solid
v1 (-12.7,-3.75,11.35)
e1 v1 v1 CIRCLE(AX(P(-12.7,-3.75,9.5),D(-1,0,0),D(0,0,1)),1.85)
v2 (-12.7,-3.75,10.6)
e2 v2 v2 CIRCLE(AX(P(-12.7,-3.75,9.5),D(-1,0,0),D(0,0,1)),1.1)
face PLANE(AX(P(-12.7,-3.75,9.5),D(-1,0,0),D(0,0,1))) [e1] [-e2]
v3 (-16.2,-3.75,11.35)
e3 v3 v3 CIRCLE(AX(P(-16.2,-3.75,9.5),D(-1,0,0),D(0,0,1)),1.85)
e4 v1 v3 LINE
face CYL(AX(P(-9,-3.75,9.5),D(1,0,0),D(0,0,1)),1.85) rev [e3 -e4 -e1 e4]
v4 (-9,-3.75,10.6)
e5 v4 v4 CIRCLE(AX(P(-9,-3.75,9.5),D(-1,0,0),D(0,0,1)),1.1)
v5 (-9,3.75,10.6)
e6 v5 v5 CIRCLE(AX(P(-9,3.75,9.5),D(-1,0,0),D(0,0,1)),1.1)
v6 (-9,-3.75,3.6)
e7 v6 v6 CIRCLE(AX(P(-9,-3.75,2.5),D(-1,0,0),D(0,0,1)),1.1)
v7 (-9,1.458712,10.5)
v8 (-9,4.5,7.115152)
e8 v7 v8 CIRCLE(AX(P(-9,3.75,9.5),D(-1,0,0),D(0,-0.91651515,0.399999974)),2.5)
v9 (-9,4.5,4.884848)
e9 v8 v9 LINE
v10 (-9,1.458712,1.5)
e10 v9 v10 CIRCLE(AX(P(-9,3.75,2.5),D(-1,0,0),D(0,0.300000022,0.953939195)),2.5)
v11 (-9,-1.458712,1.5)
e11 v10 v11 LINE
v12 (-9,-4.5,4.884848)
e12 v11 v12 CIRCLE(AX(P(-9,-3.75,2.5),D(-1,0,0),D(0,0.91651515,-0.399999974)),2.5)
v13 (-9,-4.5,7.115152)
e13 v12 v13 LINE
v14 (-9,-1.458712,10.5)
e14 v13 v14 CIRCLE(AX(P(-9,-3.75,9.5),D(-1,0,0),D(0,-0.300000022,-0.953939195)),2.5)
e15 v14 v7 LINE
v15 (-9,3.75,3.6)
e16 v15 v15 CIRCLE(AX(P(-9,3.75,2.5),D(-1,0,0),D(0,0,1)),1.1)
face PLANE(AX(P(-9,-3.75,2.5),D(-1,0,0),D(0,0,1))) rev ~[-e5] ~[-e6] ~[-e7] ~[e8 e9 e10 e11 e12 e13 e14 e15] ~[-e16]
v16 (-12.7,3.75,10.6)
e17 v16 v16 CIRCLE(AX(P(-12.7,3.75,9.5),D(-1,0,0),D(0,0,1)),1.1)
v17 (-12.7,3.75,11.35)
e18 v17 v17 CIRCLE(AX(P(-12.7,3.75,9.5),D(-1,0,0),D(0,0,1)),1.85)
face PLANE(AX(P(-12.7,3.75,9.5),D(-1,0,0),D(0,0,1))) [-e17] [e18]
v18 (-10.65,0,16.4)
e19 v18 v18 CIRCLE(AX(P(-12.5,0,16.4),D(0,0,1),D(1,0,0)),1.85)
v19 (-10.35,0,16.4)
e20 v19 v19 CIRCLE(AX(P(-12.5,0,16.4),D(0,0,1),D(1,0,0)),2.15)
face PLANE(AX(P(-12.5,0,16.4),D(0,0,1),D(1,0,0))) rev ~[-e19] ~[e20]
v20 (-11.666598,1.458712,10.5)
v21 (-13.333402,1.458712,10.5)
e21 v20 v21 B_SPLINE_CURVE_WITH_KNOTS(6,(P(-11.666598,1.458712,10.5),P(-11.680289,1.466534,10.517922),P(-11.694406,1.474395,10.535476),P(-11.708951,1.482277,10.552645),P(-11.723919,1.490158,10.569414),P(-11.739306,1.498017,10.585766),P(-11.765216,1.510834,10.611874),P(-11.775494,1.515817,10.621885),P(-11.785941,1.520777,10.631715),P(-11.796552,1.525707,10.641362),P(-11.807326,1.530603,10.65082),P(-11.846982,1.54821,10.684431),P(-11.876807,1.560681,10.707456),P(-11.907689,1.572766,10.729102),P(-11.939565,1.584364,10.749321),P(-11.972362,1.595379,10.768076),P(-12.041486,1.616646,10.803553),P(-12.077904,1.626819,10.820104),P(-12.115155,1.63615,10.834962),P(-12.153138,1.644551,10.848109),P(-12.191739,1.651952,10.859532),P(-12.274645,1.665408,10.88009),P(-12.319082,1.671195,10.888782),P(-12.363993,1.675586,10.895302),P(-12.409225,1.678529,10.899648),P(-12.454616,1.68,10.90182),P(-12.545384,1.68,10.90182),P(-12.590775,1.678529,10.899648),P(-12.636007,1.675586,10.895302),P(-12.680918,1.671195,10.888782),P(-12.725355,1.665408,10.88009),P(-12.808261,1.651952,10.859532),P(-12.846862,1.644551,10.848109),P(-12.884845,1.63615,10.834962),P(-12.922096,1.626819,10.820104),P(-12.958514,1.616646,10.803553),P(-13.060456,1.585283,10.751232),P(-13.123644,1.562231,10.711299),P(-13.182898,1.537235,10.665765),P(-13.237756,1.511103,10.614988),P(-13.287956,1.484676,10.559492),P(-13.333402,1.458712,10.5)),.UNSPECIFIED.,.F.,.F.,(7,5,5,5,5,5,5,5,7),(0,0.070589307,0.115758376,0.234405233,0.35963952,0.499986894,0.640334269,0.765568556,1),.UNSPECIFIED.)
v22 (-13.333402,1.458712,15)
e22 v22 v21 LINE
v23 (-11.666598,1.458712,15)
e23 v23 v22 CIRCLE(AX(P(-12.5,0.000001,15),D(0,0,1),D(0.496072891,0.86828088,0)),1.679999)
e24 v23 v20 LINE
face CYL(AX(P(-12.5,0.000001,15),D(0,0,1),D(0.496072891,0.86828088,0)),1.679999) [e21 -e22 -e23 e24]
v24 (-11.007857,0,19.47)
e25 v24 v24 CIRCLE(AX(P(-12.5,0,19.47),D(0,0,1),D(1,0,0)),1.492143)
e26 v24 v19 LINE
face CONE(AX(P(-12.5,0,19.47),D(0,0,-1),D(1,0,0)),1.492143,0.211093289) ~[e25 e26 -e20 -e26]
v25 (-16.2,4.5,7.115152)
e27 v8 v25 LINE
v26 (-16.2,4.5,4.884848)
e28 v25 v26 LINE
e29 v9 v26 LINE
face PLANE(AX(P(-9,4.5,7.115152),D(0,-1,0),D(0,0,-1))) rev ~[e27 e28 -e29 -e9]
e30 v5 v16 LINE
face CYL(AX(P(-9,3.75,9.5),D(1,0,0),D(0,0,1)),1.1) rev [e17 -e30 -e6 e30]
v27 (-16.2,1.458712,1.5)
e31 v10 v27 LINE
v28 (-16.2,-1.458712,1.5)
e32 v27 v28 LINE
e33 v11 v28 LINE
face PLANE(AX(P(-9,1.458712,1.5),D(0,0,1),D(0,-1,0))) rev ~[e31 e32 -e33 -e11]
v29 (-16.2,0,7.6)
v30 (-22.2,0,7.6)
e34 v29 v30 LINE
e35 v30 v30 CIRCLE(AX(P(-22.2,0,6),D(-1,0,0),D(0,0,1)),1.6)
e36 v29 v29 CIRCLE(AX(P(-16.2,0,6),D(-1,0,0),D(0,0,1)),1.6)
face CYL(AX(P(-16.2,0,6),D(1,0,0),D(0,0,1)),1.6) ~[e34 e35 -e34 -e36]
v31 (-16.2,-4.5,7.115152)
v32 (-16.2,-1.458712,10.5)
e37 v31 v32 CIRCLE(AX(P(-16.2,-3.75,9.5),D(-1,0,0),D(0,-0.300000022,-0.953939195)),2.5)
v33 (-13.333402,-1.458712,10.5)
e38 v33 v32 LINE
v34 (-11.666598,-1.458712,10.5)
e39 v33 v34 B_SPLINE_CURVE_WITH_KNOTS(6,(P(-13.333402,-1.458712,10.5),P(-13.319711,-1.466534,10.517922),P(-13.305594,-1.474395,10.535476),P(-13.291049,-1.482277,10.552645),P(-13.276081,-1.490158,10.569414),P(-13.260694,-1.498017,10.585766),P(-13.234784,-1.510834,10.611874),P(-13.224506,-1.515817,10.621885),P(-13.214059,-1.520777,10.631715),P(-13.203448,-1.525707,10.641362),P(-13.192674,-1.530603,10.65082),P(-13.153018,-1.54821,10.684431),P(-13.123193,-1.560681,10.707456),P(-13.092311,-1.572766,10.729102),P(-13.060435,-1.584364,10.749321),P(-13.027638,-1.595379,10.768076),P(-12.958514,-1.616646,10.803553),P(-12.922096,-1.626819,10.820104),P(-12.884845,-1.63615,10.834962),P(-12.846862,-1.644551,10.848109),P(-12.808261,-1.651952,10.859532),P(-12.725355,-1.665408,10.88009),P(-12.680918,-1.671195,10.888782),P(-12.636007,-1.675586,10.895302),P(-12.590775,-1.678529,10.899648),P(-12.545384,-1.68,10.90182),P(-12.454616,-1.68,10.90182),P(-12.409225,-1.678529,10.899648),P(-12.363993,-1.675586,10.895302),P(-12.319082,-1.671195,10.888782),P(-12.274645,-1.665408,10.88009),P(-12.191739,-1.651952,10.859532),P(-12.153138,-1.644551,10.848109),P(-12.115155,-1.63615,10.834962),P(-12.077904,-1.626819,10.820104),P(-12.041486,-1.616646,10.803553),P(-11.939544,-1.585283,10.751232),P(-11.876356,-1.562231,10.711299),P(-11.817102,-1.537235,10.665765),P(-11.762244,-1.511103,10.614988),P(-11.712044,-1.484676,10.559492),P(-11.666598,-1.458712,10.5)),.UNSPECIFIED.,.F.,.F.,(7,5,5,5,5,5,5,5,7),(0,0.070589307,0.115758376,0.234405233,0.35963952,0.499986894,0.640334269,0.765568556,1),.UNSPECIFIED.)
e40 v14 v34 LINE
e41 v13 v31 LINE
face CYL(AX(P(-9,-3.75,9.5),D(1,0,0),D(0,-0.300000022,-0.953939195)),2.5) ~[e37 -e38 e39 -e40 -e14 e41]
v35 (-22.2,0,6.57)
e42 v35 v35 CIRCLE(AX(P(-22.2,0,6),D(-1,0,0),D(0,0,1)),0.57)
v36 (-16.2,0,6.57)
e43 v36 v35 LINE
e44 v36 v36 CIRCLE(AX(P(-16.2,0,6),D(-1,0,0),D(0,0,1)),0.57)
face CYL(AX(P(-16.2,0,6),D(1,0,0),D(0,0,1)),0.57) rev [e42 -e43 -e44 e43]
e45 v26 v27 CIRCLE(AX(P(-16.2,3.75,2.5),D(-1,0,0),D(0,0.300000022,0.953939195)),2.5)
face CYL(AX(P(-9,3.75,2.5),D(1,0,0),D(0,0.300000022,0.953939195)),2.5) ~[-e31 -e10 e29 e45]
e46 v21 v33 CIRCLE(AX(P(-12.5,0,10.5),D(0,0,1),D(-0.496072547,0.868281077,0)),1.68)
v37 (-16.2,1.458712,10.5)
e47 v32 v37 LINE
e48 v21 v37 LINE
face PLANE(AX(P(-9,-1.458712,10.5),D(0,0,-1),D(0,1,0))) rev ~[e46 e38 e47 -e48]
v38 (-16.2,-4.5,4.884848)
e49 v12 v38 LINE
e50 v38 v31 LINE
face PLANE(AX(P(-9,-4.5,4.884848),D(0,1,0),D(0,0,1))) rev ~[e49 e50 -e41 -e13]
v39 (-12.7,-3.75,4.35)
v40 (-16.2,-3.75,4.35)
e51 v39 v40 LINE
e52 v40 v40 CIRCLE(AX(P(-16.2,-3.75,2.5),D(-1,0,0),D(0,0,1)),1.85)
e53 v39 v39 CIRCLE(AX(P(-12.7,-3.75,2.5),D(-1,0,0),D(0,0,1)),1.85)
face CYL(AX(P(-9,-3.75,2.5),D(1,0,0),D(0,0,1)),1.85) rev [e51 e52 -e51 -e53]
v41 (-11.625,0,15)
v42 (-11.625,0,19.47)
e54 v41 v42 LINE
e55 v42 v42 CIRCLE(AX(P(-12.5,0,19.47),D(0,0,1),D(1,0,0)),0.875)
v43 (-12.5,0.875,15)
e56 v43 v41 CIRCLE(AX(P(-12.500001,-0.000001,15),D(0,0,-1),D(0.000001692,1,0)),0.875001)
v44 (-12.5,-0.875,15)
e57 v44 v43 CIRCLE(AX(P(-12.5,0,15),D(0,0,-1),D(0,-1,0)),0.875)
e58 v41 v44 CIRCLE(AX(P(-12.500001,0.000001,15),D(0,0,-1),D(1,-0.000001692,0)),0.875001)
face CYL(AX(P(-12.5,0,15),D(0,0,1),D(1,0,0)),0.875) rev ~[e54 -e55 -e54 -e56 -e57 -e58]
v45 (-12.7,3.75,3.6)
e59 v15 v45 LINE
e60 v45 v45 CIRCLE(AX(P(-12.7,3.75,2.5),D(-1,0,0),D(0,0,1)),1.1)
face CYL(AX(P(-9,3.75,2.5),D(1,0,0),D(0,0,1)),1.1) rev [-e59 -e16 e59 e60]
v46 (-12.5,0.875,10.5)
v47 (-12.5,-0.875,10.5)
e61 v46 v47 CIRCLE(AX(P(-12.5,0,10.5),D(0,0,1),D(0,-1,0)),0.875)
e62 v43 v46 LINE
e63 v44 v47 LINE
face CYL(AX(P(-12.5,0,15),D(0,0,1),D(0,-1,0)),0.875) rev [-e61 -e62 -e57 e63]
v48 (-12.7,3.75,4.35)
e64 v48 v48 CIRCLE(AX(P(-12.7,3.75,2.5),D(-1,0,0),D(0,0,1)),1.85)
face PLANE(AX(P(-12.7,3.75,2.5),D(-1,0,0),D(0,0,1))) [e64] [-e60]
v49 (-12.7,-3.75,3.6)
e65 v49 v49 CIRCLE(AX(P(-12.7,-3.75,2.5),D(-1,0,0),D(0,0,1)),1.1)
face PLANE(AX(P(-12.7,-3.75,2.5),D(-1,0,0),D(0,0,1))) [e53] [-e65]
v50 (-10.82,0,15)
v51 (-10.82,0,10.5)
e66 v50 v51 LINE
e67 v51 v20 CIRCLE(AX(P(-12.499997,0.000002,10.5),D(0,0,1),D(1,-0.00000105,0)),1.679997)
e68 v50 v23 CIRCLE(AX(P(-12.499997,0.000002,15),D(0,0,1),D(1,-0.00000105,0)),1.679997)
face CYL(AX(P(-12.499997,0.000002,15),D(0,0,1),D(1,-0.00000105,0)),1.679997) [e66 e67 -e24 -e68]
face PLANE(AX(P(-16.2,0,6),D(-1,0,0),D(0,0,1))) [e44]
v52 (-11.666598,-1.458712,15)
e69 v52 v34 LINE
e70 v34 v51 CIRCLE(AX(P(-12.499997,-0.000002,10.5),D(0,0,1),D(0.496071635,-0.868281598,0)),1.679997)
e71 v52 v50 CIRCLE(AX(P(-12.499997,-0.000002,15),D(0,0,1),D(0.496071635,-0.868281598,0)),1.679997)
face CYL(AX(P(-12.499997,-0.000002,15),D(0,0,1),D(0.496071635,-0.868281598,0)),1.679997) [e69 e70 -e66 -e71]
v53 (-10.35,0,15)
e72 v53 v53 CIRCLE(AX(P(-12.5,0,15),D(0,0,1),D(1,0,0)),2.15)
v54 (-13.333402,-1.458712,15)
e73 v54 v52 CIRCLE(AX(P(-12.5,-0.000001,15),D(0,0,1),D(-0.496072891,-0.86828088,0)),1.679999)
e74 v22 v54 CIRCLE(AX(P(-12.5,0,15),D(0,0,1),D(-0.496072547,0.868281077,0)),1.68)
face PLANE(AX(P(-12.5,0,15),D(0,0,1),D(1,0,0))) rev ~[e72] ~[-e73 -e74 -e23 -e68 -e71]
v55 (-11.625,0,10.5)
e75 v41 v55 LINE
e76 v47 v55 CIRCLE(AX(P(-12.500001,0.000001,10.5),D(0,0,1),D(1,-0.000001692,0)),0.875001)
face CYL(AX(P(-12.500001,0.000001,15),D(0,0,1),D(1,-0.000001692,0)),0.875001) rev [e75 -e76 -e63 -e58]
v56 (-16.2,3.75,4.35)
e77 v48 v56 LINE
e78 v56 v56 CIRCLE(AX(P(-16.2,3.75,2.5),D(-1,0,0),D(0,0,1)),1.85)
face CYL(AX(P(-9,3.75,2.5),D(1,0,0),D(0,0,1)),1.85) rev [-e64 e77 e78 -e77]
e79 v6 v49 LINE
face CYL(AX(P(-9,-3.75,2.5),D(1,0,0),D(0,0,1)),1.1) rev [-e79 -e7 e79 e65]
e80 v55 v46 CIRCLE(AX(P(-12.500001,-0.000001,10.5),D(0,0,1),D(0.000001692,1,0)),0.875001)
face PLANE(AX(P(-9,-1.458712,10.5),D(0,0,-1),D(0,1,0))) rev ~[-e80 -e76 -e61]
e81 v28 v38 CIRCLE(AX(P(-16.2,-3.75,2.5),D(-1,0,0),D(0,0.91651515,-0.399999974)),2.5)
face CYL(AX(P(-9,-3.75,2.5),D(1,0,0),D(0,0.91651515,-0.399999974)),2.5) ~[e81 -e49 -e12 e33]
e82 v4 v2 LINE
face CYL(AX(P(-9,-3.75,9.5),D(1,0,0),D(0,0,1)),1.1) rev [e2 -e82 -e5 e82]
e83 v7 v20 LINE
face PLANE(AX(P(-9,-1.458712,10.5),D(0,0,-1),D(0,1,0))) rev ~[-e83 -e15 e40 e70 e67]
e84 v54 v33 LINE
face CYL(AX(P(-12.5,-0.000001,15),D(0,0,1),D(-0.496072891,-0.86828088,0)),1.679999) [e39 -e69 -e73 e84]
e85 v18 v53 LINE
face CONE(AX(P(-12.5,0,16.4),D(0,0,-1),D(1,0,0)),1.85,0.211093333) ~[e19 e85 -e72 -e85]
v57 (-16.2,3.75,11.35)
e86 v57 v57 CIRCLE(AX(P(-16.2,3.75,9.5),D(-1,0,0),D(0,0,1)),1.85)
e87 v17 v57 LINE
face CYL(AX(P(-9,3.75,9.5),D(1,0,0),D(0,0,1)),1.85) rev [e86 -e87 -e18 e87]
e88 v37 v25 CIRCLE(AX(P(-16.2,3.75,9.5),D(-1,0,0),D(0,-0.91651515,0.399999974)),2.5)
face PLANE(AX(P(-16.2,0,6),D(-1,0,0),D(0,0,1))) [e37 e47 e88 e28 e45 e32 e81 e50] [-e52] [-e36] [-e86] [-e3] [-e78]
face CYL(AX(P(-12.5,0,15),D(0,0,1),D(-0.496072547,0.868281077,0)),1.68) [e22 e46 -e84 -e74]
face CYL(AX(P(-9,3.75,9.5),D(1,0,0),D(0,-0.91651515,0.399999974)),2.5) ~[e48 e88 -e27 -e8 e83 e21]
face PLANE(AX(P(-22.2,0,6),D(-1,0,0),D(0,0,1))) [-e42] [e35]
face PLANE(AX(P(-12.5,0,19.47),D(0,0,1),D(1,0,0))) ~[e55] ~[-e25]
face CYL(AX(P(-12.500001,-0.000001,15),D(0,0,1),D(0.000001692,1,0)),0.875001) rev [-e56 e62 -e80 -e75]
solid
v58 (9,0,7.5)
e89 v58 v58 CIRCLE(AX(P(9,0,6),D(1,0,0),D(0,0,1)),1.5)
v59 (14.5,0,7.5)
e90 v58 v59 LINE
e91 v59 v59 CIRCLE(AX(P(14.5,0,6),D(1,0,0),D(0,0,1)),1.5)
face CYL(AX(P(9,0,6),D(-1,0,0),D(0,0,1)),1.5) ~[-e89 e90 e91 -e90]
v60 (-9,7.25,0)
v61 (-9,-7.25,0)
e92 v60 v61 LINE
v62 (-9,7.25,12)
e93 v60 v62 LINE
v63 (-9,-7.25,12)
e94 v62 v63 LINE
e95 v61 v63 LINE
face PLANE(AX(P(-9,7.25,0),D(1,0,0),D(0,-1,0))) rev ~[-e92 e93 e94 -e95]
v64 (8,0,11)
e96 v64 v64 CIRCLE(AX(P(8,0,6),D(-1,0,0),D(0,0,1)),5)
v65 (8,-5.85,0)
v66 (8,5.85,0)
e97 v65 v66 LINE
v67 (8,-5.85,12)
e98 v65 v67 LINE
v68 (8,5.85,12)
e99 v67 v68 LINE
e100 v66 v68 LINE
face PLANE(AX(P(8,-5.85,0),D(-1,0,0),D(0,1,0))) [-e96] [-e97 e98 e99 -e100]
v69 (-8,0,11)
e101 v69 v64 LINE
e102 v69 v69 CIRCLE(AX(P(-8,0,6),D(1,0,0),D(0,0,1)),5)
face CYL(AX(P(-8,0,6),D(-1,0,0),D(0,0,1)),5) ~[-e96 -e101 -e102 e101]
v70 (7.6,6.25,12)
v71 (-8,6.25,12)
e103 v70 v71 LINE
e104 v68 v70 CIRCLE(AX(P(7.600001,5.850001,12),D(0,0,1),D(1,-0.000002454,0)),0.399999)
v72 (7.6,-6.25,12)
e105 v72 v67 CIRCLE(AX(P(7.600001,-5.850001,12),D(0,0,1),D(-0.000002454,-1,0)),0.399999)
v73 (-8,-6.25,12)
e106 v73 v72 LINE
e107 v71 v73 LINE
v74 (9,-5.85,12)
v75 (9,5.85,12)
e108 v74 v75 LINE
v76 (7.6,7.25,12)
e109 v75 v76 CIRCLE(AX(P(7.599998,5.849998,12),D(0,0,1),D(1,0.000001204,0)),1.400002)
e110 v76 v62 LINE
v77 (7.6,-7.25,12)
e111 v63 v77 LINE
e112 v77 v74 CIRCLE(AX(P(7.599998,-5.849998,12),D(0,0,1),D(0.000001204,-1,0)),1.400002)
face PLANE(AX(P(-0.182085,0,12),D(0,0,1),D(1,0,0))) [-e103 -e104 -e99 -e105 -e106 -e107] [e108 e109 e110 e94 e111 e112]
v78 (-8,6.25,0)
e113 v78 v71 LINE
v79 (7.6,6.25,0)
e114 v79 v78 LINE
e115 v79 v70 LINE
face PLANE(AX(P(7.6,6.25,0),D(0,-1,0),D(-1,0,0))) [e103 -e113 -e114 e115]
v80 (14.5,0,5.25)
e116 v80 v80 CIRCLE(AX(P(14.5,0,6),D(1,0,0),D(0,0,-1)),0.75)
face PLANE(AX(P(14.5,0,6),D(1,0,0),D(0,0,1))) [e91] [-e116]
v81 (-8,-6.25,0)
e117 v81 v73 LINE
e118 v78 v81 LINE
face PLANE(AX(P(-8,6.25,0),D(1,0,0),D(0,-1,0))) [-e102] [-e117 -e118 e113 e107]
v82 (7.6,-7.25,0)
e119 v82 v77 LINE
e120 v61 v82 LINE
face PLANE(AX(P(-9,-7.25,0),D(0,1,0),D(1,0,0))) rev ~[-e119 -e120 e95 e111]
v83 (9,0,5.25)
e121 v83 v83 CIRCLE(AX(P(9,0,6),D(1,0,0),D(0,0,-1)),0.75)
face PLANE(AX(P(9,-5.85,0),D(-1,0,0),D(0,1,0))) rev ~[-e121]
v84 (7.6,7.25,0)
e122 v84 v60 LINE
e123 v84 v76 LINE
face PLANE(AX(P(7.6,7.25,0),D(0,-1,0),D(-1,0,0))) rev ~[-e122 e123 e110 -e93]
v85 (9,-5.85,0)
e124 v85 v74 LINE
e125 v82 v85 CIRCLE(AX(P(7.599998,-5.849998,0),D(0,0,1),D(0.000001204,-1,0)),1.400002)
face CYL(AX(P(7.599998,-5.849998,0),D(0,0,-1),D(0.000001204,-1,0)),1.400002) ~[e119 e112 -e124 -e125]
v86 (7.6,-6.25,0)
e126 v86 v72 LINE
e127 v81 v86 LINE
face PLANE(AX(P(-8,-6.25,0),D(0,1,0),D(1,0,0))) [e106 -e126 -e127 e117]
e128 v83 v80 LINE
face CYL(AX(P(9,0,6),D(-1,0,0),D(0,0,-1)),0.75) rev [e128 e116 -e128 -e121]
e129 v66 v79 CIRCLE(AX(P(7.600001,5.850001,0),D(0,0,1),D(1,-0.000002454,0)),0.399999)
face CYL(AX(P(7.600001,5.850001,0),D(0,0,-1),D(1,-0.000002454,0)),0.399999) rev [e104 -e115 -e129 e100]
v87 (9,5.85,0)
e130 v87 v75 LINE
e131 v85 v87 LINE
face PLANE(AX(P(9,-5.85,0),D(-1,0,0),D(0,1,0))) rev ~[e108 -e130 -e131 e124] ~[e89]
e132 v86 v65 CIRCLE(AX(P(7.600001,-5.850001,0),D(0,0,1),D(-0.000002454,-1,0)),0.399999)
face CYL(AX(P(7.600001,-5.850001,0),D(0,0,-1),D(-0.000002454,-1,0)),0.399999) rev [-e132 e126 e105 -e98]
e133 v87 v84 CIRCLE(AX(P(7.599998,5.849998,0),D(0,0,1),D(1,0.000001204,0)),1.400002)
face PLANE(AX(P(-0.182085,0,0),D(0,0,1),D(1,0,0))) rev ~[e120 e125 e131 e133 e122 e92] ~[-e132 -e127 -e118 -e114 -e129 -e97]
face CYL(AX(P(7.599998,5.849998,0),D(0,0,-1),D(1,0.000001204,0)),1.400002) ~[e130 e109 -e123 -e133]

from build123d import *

# Parameters (mm, degrees)
BOSS_EXTRUDE1_DEPTH   = 12
SKETCH2_R             = 1.5
SKETCH2_R_2           = 0.75
BOSS_EXTRUDE2_DEPTH   = 5.5
BOSS_EXTRUDE3_REACH   = 28.511
SKETCH3_R             = 5
SKETCH4_R             = 1.85
BOSS_EXTRUDE4_DEPTH   = 7.2
SKETCH4_6_R           = 1.85
SKETCH4_6_R_2         = 1.1
BOSS_EXTRUDE6_DEPTH   = 3.7
BOSS_EXTRUDE6_2_DEPTH = 3.7
BOSS_EXTRUDE6_3_DEPTH = 3.7
BOSS_EXTRUDE6_4_DEPTH = 3.7
SKETCH5_R             = 1.6
SKETCH5_R_2           = 0.57
BOSS_EXTRUDE7_DEPTH   = 6
BOSS_EXTRUDE8_REACH   = 29.756


with BuildPart() as part:
    # Sketch1 → Boss-Extrude1 (new body)
    with BuildSketch(Plane.XY):
        with BuildLine():
            Line((9, -5.85), (9, 5.85))
            ThreePointArc((9, 5.85), (8.589949, 6.839949), (7.6, 7.25))
            Line((7.6, 7.25), (-9, 7.25))
            Line((-9, 7.25), (-9, -7.25))
            Line((-9, -7.25), (7.6, -7.25))
            ThreePointArc((7.6, -7.25), (8.589949, -6.839949), (9, -5.85))
        make_face()
        with BuildLine():
            Line((-8, -6.25), (7.6, -6.25))
            ThreePointArc((7.6, -6.25), (7.882843, -6.132843), (8, -5.85))
            Line((8, -5.85), (8, 5.85))
            ThreePointArc((8, 5.85), (7.882843, 6.132843), (7.6, 6.25))
            Line((7.6, 6.25), (-8, 6.25))
            Line((-8, 6.25), (-8, -6.25))
        make_face(mode=Mode.SUBTRACT)
    extrude(amount=BOSS_EXTRUDE1_DEPTH)

    # Sketch2 → Boss-Extrude2 (add)
    with BuildSketch(Plane(origin=(9, 0, 0), x_dir=(0, 0, -1), z_dir=(1, 0, 0))):
        with Locations(Location((-6, 0, 0), (0, 0, 180))):
            Circle(SKETCH2_R)
        with Locations((-6, 0)):
            Circle(SKETCH2_R_2, mode=Mode.SUBTRACT)
    extrude(amount=BOSS_EXTRUDE2_DEPTH)

    # Sketch3 → Boss-Extrude3 (add, up to next)
    with BuildSketch(Plane(origin=(-8, 0, 0), x_dir=(0, 0, -1), z_dir=(1, 0, 0)), mode=Mode.PRIVATE) as boss_extrude3_sk1:
        with Locations(Location((-6, 0, 0), (0, 0, 180))):
            Circle(SKETCH3_R)
    boss_extrude3_tool1 = extrude(boss_extrude3_sk1.sketch, amount=BOSS_EXTRUDE3_REACH, mode=Mode.PRIVATE) - part.part
    add(boss_extrude3_tool1.solids().sort_by_distance((-8, 0, 6))[0])


with BuildPart() as body_2:
    # Sketch4 → Boss-Extrude4 (new body)
    with BuildSketch(Plane.ZY.offset(9)):
        with BuildLine():
            ThreePointArc((1.5, -1.458712), (0.829129, -5.609621), (4.884848, -4.5))
            Line((4.884848, -4.5), (7.115152, -4.5))
            ThreePointArc((7.115152, -4.5), (11.170871, -5.609621), (10.5, -1.458712))
            Line((10.5, -1.458712), (10.5, 1.458712))
            ThreePointArc((10.5, 1.458712), (11.170871, 5.609621), (7.115152, 4.5))
            Line((7.115152, 4.5), (4.884848, 4.5))
            ThreePointArc((4.884848, 4.5), (0.829129, 5.609621), (1.5, 1.458712))
            Line((1.5, 1.458712), (1.5, -1.458712))
        make_face()
        with Locations((2.5, -3.75)):
            Circle(SKETCH4_R, mode=Mode.SUBTRACT)
        with Locations((9.5, 3.75)):
            Circle(SKETCH4_R, mode=Mode.SUBTRACT)
        with Locations((9.5, -3.75)):
            Circle(SKETCH4_R, mode=Mode.SUBTRACT)
        with Locations((2.5, 3.75)):
            Circle(SKETCH4_R, mode=Mode.SUBTRACT)
    extrude(amount=BOSS_EXTRUDE4_DEPTH)


with BuildPart() as body_3:
    # Sketch4<6> → Boss-Extrude6 (new body)
    with BuildSketch(Plane.ZY.offset(9)):
        with Locations((2.5, 3.75)):
            Circle(SKETCH4_6_R)
        with Locations((2.5, 3.75)):
            Circle(SKETCH4_6_R_2, mode=Mode.SUBTRACT)
    extrude(amount=BOSS_EXTRUDE6_DEPTH)


with BuildPart() as body_4:
    # Sketch4<6> → Boss-Extrude6 2 (new body)
    with BuildSketch(Plane.ZY.offset(9)):
        with Locations((9.5, 3.75)):
            Circle(SKETCH4_6_R)
        with Locations((9.5, 3.75)):
            Circle(SKETCH4_6_R_2, mode=Mode.SUBTRACT)
    extrude(amount=BOSS_EXTRUDE6_2_DEPTH)


with BuildPart() as body_5:
    # Sketch4<6> → Boss-Extrude6 3 (new body)
    with BuildSketch(Plane.ZY.offset(9)):
        with Locations((9.5, -3.75)):
            Circle(SKETCH4_6_R)
        with Locations((9.5, -3.75)):
            Circle(SKETCH4_6_R_2, mode=Mode.SUBTRACT)
    extrude(amount=BOSS_EXTRUDE6_3_DEPTH)


with BuildPart() as body_6:
    # Sketch4<6> → Boss-Extrude6 4 (new body)
    with BuildSketch(Plane.ZY.offset(9)):
        with Locations((2.5, -3.75)):
            Circle(SKETCH4_6_R)
        with Locations((2.5, -3.75)):
            Circle(SKETCH4_6_R_2, mode=Mode.SUBTRACT)
    extrude(amount=BOSS_EXTRUDE6_4_DEPTH)


with BuildPart() as body_2_1:
    add(body_2.part)

    # Combine1: union body 3, body 4, body 5, body 6
    add(body_3.part)
    add(body_4.part)
    add(body_5.part)
    add(body_6.part)

    # Sketch5 → Boss-Extrude7 (add)
    with BuildSketch(Plane.ZY.offset(16.2)):
        with Locations((6, 0)):
            Circle(SKETCH5_R)
        with Locations((6, 0)):
            Circle(SKETCH5_R_2, mode=Mode.SUBTRACT)
    extrude(amount=BOSS_EXTRUDE7_DEPTH)

    # Sketch6 → Boss-Extrude8 (add, up to next)
    with BuildSketch(Plane.XY.offset(15), mode=Mode.PRIVATE) as boss_extrude8_sk1:
        with BuildLine():
            ThreePointArc((-13.333402, 1.458712), (-14.18, 0), (-13.333402, -1.458712))
            Line((-13.333402, -1.458712), (-12.5, -1.458712))
            Line((-12.5, -1.458712), (-12.5, -0.875))
            ThreePointArc((-12.5, -0.875), (-13.375, 0), (-12.5, 0.875))
            Line((-12.5, 0.875), (-12.5, 1.458712))
            Line((-12.5, 1.458712), (-13.333402, 1.458712))
        make_face()
    boss_extrude8_tool1 = extrude(boss_extrude8_sk1.sketch, amount=-BOSS_EXTRUDE8_REACH, mode=Mode.PRIVATE) - body_2_1.part
    # Sketch6 → Boss-Extrude8 (add, up to next)
    with BuildSketch(Plane.XY.offset(15), mode=Mode.PRIVATE) as boss_extrude8_sk2:
        with BuildLine():
            Line((-12.5, -0.875), (-12.5, -1.458712))
            Line((-12.5, -1.458712), (-11.666598, -1.458712))
            ThreePointArc((-11.666598, -1.458712), (-11.046983, -0.843293), (-10.82, 0))
            ThreePointArc((-10.82, 0), (-11.046983, 0.843293), (-11.666598, 1.458712))
            Line((-11.666598, 1.458712), (-12.5, 1.458712))
            Line((-12.5, 1.458712), (-12.5, 0.875))
            ThreePointArc((-12.5, 0.875), (-11.881282, 0.618718), (-11.625, 0))
            ThreePointArc((-11.625, 0), (-11.881282, -0.618718), (-12.5, -0.875))
        make_face()
    boss_extrude8_tool2 = extrude(boss_extrude8_sk2.sketch, amount=-BOSS_EXTRUDE8_REACH, mode=Mode.PRIVATE) - body_2_1.part
    # Sketch6 → Boss-Extrude8 (add, up to next)
    with BuildSketch(Plane.XY.offset(15), mode=Mode.PRIVATE) as boss_extrude8_sk3:
        with BuildLine():
            ThreePointArc((-13.333402, 1.458712), (-14.18, 0), (-13.333402, -1.458712))
            Line((-13.333402, -1.458712), (-12.5, -1.458712))
            Line((-12.5, -1.458712), (-12.5, -0.875))
            ThreePointArc((-12.5, -0.875), (-13.375, 0), (-12.5, 0.875))
            Line((-12.5, 0.875), (-12.5, 1.458712))
            Line((-12.5, 1.458712), (-13.333402, 1.458712))
        make_face()
    boss_extrude8_tool3 = extrude(boss_extrude8_sk3.sketch, amount=-BOSS_EXTRUDE8_REACH, mode=Mode.PRIVATE) - body_2_1.part
    # Sketch6 → Boss-Extrude8 (add, up to next)
    with BuildSketch(Plane.XY.offset(15), mode=Mode.PRIVATE) as boss_extrude8_sk4:
        with BuildLine():
            Line((-12.5, -0.875), (-12.5, -1.458712))
            Line((-12.5, -1.458712), (-11.666598, -1.458712))
            ThreePointArc((-11.666598, -1.458712), (-11.046983, -0.843293), (-10.82, 0))
            ThreePointArc((-10.82, 0), (-11.046983, 0.843293), (-11.666598, 1.458712))
            Line((-11.666598, 1.458712), (-12.5, 1.458712))
            Line((-12.5, 1.458712), (-12.5, 0.875))
            ThreePointArc((-12.5, 0.875), (-11.881282, 0.618718), (-11.625, 0))
            ThreePointArc((-11.625, 0), (-11.881282, -0.618718), (-12.5, -0.875))
        make_face()
    boss_extrude8_tool4 = extrude(boss_extrude8_sk4.sketch, amount=-BOSS_EXTRUDE8_REACH, mode=Mode.PRIVATE) - body_2_1.part
    # Sketch6 → Boss-Extrude8 (add, up to next)
    with BuildSketch(Plane.XY.offset(15), mode=Mode.PRIVATE) as boss_extrude8_sk5:
        with BuildLine():
            ThreePointArc((-11.666598, 1.458712), (-12.5, 1.68), (-13.333402, 1.458712))
            Line((-13.333402, 1.458712), (-12.5, 1.458712))
            Line((-12.5, 1.458712), (-11.666598, 1.458712))
        make_face()
    boss_extrude8_tool5 = extrude(boss_extrude8_sk5.sketch, amount=-BOSS_EXTRUDE8_REACH, mode=Mode.PRIVATE) - body_2_1.part
    # Sketch6 → Boss-Extrude8 (add, up to next)
    with BuildSketch(Plane.XY.offset(15), mode=Mode.PRIVATE) as boss_extrude8_sk6:
        with BuildLine():
            Line((-12.5, -1.458712), (-13.333402, -1.458712))
            ThreePointArc((-13.333402, -1.458712), (-12.5, -1.68), (-11.666598, -1.458712))
            Line((-11.666598, -1.458712), (-12.5, -1.458712))
        make_face()
    boss_extrude8_tool6 = extrude(boss_extrude8_sk6.sketch, amount=-BOSS_EXTRUDE8_REACH, mode=Mode.PRIVATE) - body_2_1.part
    add(boss_extrude8_tool1.solids().sort_by_distance((-13.384074, 0, 15))[0])
    add(boss_extrude8_tool2.solids().sort_by_distance((-11.615926, 0, 15))[0])
    add(boss_extrude8_tool3.solids().sort_by_distance((-13.384074, 0, 15))[0])
    add(boss_extrude8_tool4.solids().sort_by_distance((-11.615926, 0, 15))[0])
    add(boss_extrude8_tool5.solids().sort_by_distance((-12.5, 1.547747, 15))[0])
    add(boss_extrude8_tool6.solids().sort_by_distance((-12.5, -1.547747, 15))[0])

    # Sketch8 → Revolve1 (revolve)
    with BuildSketch(Plane.ZY.offset(12.5), mode=Mode.PRIVATE) as revolve1_sk:
        Polygon((15, 1.68), (15, 0.875), (19.47, 0.875), (19.47, 1.492143), (16.4, 2.15), (16.4, 1.85), (15, 2.15), align=None)
    revolve(revolve1_sk.sketch.rotate(Axis((-12.5, 0, 15), (0, 0, 1)), 270), axis=Axis((-12.5, 0, 15), (0, 0, 1)))


solid = Compound([part.part, body_2_1.part])
